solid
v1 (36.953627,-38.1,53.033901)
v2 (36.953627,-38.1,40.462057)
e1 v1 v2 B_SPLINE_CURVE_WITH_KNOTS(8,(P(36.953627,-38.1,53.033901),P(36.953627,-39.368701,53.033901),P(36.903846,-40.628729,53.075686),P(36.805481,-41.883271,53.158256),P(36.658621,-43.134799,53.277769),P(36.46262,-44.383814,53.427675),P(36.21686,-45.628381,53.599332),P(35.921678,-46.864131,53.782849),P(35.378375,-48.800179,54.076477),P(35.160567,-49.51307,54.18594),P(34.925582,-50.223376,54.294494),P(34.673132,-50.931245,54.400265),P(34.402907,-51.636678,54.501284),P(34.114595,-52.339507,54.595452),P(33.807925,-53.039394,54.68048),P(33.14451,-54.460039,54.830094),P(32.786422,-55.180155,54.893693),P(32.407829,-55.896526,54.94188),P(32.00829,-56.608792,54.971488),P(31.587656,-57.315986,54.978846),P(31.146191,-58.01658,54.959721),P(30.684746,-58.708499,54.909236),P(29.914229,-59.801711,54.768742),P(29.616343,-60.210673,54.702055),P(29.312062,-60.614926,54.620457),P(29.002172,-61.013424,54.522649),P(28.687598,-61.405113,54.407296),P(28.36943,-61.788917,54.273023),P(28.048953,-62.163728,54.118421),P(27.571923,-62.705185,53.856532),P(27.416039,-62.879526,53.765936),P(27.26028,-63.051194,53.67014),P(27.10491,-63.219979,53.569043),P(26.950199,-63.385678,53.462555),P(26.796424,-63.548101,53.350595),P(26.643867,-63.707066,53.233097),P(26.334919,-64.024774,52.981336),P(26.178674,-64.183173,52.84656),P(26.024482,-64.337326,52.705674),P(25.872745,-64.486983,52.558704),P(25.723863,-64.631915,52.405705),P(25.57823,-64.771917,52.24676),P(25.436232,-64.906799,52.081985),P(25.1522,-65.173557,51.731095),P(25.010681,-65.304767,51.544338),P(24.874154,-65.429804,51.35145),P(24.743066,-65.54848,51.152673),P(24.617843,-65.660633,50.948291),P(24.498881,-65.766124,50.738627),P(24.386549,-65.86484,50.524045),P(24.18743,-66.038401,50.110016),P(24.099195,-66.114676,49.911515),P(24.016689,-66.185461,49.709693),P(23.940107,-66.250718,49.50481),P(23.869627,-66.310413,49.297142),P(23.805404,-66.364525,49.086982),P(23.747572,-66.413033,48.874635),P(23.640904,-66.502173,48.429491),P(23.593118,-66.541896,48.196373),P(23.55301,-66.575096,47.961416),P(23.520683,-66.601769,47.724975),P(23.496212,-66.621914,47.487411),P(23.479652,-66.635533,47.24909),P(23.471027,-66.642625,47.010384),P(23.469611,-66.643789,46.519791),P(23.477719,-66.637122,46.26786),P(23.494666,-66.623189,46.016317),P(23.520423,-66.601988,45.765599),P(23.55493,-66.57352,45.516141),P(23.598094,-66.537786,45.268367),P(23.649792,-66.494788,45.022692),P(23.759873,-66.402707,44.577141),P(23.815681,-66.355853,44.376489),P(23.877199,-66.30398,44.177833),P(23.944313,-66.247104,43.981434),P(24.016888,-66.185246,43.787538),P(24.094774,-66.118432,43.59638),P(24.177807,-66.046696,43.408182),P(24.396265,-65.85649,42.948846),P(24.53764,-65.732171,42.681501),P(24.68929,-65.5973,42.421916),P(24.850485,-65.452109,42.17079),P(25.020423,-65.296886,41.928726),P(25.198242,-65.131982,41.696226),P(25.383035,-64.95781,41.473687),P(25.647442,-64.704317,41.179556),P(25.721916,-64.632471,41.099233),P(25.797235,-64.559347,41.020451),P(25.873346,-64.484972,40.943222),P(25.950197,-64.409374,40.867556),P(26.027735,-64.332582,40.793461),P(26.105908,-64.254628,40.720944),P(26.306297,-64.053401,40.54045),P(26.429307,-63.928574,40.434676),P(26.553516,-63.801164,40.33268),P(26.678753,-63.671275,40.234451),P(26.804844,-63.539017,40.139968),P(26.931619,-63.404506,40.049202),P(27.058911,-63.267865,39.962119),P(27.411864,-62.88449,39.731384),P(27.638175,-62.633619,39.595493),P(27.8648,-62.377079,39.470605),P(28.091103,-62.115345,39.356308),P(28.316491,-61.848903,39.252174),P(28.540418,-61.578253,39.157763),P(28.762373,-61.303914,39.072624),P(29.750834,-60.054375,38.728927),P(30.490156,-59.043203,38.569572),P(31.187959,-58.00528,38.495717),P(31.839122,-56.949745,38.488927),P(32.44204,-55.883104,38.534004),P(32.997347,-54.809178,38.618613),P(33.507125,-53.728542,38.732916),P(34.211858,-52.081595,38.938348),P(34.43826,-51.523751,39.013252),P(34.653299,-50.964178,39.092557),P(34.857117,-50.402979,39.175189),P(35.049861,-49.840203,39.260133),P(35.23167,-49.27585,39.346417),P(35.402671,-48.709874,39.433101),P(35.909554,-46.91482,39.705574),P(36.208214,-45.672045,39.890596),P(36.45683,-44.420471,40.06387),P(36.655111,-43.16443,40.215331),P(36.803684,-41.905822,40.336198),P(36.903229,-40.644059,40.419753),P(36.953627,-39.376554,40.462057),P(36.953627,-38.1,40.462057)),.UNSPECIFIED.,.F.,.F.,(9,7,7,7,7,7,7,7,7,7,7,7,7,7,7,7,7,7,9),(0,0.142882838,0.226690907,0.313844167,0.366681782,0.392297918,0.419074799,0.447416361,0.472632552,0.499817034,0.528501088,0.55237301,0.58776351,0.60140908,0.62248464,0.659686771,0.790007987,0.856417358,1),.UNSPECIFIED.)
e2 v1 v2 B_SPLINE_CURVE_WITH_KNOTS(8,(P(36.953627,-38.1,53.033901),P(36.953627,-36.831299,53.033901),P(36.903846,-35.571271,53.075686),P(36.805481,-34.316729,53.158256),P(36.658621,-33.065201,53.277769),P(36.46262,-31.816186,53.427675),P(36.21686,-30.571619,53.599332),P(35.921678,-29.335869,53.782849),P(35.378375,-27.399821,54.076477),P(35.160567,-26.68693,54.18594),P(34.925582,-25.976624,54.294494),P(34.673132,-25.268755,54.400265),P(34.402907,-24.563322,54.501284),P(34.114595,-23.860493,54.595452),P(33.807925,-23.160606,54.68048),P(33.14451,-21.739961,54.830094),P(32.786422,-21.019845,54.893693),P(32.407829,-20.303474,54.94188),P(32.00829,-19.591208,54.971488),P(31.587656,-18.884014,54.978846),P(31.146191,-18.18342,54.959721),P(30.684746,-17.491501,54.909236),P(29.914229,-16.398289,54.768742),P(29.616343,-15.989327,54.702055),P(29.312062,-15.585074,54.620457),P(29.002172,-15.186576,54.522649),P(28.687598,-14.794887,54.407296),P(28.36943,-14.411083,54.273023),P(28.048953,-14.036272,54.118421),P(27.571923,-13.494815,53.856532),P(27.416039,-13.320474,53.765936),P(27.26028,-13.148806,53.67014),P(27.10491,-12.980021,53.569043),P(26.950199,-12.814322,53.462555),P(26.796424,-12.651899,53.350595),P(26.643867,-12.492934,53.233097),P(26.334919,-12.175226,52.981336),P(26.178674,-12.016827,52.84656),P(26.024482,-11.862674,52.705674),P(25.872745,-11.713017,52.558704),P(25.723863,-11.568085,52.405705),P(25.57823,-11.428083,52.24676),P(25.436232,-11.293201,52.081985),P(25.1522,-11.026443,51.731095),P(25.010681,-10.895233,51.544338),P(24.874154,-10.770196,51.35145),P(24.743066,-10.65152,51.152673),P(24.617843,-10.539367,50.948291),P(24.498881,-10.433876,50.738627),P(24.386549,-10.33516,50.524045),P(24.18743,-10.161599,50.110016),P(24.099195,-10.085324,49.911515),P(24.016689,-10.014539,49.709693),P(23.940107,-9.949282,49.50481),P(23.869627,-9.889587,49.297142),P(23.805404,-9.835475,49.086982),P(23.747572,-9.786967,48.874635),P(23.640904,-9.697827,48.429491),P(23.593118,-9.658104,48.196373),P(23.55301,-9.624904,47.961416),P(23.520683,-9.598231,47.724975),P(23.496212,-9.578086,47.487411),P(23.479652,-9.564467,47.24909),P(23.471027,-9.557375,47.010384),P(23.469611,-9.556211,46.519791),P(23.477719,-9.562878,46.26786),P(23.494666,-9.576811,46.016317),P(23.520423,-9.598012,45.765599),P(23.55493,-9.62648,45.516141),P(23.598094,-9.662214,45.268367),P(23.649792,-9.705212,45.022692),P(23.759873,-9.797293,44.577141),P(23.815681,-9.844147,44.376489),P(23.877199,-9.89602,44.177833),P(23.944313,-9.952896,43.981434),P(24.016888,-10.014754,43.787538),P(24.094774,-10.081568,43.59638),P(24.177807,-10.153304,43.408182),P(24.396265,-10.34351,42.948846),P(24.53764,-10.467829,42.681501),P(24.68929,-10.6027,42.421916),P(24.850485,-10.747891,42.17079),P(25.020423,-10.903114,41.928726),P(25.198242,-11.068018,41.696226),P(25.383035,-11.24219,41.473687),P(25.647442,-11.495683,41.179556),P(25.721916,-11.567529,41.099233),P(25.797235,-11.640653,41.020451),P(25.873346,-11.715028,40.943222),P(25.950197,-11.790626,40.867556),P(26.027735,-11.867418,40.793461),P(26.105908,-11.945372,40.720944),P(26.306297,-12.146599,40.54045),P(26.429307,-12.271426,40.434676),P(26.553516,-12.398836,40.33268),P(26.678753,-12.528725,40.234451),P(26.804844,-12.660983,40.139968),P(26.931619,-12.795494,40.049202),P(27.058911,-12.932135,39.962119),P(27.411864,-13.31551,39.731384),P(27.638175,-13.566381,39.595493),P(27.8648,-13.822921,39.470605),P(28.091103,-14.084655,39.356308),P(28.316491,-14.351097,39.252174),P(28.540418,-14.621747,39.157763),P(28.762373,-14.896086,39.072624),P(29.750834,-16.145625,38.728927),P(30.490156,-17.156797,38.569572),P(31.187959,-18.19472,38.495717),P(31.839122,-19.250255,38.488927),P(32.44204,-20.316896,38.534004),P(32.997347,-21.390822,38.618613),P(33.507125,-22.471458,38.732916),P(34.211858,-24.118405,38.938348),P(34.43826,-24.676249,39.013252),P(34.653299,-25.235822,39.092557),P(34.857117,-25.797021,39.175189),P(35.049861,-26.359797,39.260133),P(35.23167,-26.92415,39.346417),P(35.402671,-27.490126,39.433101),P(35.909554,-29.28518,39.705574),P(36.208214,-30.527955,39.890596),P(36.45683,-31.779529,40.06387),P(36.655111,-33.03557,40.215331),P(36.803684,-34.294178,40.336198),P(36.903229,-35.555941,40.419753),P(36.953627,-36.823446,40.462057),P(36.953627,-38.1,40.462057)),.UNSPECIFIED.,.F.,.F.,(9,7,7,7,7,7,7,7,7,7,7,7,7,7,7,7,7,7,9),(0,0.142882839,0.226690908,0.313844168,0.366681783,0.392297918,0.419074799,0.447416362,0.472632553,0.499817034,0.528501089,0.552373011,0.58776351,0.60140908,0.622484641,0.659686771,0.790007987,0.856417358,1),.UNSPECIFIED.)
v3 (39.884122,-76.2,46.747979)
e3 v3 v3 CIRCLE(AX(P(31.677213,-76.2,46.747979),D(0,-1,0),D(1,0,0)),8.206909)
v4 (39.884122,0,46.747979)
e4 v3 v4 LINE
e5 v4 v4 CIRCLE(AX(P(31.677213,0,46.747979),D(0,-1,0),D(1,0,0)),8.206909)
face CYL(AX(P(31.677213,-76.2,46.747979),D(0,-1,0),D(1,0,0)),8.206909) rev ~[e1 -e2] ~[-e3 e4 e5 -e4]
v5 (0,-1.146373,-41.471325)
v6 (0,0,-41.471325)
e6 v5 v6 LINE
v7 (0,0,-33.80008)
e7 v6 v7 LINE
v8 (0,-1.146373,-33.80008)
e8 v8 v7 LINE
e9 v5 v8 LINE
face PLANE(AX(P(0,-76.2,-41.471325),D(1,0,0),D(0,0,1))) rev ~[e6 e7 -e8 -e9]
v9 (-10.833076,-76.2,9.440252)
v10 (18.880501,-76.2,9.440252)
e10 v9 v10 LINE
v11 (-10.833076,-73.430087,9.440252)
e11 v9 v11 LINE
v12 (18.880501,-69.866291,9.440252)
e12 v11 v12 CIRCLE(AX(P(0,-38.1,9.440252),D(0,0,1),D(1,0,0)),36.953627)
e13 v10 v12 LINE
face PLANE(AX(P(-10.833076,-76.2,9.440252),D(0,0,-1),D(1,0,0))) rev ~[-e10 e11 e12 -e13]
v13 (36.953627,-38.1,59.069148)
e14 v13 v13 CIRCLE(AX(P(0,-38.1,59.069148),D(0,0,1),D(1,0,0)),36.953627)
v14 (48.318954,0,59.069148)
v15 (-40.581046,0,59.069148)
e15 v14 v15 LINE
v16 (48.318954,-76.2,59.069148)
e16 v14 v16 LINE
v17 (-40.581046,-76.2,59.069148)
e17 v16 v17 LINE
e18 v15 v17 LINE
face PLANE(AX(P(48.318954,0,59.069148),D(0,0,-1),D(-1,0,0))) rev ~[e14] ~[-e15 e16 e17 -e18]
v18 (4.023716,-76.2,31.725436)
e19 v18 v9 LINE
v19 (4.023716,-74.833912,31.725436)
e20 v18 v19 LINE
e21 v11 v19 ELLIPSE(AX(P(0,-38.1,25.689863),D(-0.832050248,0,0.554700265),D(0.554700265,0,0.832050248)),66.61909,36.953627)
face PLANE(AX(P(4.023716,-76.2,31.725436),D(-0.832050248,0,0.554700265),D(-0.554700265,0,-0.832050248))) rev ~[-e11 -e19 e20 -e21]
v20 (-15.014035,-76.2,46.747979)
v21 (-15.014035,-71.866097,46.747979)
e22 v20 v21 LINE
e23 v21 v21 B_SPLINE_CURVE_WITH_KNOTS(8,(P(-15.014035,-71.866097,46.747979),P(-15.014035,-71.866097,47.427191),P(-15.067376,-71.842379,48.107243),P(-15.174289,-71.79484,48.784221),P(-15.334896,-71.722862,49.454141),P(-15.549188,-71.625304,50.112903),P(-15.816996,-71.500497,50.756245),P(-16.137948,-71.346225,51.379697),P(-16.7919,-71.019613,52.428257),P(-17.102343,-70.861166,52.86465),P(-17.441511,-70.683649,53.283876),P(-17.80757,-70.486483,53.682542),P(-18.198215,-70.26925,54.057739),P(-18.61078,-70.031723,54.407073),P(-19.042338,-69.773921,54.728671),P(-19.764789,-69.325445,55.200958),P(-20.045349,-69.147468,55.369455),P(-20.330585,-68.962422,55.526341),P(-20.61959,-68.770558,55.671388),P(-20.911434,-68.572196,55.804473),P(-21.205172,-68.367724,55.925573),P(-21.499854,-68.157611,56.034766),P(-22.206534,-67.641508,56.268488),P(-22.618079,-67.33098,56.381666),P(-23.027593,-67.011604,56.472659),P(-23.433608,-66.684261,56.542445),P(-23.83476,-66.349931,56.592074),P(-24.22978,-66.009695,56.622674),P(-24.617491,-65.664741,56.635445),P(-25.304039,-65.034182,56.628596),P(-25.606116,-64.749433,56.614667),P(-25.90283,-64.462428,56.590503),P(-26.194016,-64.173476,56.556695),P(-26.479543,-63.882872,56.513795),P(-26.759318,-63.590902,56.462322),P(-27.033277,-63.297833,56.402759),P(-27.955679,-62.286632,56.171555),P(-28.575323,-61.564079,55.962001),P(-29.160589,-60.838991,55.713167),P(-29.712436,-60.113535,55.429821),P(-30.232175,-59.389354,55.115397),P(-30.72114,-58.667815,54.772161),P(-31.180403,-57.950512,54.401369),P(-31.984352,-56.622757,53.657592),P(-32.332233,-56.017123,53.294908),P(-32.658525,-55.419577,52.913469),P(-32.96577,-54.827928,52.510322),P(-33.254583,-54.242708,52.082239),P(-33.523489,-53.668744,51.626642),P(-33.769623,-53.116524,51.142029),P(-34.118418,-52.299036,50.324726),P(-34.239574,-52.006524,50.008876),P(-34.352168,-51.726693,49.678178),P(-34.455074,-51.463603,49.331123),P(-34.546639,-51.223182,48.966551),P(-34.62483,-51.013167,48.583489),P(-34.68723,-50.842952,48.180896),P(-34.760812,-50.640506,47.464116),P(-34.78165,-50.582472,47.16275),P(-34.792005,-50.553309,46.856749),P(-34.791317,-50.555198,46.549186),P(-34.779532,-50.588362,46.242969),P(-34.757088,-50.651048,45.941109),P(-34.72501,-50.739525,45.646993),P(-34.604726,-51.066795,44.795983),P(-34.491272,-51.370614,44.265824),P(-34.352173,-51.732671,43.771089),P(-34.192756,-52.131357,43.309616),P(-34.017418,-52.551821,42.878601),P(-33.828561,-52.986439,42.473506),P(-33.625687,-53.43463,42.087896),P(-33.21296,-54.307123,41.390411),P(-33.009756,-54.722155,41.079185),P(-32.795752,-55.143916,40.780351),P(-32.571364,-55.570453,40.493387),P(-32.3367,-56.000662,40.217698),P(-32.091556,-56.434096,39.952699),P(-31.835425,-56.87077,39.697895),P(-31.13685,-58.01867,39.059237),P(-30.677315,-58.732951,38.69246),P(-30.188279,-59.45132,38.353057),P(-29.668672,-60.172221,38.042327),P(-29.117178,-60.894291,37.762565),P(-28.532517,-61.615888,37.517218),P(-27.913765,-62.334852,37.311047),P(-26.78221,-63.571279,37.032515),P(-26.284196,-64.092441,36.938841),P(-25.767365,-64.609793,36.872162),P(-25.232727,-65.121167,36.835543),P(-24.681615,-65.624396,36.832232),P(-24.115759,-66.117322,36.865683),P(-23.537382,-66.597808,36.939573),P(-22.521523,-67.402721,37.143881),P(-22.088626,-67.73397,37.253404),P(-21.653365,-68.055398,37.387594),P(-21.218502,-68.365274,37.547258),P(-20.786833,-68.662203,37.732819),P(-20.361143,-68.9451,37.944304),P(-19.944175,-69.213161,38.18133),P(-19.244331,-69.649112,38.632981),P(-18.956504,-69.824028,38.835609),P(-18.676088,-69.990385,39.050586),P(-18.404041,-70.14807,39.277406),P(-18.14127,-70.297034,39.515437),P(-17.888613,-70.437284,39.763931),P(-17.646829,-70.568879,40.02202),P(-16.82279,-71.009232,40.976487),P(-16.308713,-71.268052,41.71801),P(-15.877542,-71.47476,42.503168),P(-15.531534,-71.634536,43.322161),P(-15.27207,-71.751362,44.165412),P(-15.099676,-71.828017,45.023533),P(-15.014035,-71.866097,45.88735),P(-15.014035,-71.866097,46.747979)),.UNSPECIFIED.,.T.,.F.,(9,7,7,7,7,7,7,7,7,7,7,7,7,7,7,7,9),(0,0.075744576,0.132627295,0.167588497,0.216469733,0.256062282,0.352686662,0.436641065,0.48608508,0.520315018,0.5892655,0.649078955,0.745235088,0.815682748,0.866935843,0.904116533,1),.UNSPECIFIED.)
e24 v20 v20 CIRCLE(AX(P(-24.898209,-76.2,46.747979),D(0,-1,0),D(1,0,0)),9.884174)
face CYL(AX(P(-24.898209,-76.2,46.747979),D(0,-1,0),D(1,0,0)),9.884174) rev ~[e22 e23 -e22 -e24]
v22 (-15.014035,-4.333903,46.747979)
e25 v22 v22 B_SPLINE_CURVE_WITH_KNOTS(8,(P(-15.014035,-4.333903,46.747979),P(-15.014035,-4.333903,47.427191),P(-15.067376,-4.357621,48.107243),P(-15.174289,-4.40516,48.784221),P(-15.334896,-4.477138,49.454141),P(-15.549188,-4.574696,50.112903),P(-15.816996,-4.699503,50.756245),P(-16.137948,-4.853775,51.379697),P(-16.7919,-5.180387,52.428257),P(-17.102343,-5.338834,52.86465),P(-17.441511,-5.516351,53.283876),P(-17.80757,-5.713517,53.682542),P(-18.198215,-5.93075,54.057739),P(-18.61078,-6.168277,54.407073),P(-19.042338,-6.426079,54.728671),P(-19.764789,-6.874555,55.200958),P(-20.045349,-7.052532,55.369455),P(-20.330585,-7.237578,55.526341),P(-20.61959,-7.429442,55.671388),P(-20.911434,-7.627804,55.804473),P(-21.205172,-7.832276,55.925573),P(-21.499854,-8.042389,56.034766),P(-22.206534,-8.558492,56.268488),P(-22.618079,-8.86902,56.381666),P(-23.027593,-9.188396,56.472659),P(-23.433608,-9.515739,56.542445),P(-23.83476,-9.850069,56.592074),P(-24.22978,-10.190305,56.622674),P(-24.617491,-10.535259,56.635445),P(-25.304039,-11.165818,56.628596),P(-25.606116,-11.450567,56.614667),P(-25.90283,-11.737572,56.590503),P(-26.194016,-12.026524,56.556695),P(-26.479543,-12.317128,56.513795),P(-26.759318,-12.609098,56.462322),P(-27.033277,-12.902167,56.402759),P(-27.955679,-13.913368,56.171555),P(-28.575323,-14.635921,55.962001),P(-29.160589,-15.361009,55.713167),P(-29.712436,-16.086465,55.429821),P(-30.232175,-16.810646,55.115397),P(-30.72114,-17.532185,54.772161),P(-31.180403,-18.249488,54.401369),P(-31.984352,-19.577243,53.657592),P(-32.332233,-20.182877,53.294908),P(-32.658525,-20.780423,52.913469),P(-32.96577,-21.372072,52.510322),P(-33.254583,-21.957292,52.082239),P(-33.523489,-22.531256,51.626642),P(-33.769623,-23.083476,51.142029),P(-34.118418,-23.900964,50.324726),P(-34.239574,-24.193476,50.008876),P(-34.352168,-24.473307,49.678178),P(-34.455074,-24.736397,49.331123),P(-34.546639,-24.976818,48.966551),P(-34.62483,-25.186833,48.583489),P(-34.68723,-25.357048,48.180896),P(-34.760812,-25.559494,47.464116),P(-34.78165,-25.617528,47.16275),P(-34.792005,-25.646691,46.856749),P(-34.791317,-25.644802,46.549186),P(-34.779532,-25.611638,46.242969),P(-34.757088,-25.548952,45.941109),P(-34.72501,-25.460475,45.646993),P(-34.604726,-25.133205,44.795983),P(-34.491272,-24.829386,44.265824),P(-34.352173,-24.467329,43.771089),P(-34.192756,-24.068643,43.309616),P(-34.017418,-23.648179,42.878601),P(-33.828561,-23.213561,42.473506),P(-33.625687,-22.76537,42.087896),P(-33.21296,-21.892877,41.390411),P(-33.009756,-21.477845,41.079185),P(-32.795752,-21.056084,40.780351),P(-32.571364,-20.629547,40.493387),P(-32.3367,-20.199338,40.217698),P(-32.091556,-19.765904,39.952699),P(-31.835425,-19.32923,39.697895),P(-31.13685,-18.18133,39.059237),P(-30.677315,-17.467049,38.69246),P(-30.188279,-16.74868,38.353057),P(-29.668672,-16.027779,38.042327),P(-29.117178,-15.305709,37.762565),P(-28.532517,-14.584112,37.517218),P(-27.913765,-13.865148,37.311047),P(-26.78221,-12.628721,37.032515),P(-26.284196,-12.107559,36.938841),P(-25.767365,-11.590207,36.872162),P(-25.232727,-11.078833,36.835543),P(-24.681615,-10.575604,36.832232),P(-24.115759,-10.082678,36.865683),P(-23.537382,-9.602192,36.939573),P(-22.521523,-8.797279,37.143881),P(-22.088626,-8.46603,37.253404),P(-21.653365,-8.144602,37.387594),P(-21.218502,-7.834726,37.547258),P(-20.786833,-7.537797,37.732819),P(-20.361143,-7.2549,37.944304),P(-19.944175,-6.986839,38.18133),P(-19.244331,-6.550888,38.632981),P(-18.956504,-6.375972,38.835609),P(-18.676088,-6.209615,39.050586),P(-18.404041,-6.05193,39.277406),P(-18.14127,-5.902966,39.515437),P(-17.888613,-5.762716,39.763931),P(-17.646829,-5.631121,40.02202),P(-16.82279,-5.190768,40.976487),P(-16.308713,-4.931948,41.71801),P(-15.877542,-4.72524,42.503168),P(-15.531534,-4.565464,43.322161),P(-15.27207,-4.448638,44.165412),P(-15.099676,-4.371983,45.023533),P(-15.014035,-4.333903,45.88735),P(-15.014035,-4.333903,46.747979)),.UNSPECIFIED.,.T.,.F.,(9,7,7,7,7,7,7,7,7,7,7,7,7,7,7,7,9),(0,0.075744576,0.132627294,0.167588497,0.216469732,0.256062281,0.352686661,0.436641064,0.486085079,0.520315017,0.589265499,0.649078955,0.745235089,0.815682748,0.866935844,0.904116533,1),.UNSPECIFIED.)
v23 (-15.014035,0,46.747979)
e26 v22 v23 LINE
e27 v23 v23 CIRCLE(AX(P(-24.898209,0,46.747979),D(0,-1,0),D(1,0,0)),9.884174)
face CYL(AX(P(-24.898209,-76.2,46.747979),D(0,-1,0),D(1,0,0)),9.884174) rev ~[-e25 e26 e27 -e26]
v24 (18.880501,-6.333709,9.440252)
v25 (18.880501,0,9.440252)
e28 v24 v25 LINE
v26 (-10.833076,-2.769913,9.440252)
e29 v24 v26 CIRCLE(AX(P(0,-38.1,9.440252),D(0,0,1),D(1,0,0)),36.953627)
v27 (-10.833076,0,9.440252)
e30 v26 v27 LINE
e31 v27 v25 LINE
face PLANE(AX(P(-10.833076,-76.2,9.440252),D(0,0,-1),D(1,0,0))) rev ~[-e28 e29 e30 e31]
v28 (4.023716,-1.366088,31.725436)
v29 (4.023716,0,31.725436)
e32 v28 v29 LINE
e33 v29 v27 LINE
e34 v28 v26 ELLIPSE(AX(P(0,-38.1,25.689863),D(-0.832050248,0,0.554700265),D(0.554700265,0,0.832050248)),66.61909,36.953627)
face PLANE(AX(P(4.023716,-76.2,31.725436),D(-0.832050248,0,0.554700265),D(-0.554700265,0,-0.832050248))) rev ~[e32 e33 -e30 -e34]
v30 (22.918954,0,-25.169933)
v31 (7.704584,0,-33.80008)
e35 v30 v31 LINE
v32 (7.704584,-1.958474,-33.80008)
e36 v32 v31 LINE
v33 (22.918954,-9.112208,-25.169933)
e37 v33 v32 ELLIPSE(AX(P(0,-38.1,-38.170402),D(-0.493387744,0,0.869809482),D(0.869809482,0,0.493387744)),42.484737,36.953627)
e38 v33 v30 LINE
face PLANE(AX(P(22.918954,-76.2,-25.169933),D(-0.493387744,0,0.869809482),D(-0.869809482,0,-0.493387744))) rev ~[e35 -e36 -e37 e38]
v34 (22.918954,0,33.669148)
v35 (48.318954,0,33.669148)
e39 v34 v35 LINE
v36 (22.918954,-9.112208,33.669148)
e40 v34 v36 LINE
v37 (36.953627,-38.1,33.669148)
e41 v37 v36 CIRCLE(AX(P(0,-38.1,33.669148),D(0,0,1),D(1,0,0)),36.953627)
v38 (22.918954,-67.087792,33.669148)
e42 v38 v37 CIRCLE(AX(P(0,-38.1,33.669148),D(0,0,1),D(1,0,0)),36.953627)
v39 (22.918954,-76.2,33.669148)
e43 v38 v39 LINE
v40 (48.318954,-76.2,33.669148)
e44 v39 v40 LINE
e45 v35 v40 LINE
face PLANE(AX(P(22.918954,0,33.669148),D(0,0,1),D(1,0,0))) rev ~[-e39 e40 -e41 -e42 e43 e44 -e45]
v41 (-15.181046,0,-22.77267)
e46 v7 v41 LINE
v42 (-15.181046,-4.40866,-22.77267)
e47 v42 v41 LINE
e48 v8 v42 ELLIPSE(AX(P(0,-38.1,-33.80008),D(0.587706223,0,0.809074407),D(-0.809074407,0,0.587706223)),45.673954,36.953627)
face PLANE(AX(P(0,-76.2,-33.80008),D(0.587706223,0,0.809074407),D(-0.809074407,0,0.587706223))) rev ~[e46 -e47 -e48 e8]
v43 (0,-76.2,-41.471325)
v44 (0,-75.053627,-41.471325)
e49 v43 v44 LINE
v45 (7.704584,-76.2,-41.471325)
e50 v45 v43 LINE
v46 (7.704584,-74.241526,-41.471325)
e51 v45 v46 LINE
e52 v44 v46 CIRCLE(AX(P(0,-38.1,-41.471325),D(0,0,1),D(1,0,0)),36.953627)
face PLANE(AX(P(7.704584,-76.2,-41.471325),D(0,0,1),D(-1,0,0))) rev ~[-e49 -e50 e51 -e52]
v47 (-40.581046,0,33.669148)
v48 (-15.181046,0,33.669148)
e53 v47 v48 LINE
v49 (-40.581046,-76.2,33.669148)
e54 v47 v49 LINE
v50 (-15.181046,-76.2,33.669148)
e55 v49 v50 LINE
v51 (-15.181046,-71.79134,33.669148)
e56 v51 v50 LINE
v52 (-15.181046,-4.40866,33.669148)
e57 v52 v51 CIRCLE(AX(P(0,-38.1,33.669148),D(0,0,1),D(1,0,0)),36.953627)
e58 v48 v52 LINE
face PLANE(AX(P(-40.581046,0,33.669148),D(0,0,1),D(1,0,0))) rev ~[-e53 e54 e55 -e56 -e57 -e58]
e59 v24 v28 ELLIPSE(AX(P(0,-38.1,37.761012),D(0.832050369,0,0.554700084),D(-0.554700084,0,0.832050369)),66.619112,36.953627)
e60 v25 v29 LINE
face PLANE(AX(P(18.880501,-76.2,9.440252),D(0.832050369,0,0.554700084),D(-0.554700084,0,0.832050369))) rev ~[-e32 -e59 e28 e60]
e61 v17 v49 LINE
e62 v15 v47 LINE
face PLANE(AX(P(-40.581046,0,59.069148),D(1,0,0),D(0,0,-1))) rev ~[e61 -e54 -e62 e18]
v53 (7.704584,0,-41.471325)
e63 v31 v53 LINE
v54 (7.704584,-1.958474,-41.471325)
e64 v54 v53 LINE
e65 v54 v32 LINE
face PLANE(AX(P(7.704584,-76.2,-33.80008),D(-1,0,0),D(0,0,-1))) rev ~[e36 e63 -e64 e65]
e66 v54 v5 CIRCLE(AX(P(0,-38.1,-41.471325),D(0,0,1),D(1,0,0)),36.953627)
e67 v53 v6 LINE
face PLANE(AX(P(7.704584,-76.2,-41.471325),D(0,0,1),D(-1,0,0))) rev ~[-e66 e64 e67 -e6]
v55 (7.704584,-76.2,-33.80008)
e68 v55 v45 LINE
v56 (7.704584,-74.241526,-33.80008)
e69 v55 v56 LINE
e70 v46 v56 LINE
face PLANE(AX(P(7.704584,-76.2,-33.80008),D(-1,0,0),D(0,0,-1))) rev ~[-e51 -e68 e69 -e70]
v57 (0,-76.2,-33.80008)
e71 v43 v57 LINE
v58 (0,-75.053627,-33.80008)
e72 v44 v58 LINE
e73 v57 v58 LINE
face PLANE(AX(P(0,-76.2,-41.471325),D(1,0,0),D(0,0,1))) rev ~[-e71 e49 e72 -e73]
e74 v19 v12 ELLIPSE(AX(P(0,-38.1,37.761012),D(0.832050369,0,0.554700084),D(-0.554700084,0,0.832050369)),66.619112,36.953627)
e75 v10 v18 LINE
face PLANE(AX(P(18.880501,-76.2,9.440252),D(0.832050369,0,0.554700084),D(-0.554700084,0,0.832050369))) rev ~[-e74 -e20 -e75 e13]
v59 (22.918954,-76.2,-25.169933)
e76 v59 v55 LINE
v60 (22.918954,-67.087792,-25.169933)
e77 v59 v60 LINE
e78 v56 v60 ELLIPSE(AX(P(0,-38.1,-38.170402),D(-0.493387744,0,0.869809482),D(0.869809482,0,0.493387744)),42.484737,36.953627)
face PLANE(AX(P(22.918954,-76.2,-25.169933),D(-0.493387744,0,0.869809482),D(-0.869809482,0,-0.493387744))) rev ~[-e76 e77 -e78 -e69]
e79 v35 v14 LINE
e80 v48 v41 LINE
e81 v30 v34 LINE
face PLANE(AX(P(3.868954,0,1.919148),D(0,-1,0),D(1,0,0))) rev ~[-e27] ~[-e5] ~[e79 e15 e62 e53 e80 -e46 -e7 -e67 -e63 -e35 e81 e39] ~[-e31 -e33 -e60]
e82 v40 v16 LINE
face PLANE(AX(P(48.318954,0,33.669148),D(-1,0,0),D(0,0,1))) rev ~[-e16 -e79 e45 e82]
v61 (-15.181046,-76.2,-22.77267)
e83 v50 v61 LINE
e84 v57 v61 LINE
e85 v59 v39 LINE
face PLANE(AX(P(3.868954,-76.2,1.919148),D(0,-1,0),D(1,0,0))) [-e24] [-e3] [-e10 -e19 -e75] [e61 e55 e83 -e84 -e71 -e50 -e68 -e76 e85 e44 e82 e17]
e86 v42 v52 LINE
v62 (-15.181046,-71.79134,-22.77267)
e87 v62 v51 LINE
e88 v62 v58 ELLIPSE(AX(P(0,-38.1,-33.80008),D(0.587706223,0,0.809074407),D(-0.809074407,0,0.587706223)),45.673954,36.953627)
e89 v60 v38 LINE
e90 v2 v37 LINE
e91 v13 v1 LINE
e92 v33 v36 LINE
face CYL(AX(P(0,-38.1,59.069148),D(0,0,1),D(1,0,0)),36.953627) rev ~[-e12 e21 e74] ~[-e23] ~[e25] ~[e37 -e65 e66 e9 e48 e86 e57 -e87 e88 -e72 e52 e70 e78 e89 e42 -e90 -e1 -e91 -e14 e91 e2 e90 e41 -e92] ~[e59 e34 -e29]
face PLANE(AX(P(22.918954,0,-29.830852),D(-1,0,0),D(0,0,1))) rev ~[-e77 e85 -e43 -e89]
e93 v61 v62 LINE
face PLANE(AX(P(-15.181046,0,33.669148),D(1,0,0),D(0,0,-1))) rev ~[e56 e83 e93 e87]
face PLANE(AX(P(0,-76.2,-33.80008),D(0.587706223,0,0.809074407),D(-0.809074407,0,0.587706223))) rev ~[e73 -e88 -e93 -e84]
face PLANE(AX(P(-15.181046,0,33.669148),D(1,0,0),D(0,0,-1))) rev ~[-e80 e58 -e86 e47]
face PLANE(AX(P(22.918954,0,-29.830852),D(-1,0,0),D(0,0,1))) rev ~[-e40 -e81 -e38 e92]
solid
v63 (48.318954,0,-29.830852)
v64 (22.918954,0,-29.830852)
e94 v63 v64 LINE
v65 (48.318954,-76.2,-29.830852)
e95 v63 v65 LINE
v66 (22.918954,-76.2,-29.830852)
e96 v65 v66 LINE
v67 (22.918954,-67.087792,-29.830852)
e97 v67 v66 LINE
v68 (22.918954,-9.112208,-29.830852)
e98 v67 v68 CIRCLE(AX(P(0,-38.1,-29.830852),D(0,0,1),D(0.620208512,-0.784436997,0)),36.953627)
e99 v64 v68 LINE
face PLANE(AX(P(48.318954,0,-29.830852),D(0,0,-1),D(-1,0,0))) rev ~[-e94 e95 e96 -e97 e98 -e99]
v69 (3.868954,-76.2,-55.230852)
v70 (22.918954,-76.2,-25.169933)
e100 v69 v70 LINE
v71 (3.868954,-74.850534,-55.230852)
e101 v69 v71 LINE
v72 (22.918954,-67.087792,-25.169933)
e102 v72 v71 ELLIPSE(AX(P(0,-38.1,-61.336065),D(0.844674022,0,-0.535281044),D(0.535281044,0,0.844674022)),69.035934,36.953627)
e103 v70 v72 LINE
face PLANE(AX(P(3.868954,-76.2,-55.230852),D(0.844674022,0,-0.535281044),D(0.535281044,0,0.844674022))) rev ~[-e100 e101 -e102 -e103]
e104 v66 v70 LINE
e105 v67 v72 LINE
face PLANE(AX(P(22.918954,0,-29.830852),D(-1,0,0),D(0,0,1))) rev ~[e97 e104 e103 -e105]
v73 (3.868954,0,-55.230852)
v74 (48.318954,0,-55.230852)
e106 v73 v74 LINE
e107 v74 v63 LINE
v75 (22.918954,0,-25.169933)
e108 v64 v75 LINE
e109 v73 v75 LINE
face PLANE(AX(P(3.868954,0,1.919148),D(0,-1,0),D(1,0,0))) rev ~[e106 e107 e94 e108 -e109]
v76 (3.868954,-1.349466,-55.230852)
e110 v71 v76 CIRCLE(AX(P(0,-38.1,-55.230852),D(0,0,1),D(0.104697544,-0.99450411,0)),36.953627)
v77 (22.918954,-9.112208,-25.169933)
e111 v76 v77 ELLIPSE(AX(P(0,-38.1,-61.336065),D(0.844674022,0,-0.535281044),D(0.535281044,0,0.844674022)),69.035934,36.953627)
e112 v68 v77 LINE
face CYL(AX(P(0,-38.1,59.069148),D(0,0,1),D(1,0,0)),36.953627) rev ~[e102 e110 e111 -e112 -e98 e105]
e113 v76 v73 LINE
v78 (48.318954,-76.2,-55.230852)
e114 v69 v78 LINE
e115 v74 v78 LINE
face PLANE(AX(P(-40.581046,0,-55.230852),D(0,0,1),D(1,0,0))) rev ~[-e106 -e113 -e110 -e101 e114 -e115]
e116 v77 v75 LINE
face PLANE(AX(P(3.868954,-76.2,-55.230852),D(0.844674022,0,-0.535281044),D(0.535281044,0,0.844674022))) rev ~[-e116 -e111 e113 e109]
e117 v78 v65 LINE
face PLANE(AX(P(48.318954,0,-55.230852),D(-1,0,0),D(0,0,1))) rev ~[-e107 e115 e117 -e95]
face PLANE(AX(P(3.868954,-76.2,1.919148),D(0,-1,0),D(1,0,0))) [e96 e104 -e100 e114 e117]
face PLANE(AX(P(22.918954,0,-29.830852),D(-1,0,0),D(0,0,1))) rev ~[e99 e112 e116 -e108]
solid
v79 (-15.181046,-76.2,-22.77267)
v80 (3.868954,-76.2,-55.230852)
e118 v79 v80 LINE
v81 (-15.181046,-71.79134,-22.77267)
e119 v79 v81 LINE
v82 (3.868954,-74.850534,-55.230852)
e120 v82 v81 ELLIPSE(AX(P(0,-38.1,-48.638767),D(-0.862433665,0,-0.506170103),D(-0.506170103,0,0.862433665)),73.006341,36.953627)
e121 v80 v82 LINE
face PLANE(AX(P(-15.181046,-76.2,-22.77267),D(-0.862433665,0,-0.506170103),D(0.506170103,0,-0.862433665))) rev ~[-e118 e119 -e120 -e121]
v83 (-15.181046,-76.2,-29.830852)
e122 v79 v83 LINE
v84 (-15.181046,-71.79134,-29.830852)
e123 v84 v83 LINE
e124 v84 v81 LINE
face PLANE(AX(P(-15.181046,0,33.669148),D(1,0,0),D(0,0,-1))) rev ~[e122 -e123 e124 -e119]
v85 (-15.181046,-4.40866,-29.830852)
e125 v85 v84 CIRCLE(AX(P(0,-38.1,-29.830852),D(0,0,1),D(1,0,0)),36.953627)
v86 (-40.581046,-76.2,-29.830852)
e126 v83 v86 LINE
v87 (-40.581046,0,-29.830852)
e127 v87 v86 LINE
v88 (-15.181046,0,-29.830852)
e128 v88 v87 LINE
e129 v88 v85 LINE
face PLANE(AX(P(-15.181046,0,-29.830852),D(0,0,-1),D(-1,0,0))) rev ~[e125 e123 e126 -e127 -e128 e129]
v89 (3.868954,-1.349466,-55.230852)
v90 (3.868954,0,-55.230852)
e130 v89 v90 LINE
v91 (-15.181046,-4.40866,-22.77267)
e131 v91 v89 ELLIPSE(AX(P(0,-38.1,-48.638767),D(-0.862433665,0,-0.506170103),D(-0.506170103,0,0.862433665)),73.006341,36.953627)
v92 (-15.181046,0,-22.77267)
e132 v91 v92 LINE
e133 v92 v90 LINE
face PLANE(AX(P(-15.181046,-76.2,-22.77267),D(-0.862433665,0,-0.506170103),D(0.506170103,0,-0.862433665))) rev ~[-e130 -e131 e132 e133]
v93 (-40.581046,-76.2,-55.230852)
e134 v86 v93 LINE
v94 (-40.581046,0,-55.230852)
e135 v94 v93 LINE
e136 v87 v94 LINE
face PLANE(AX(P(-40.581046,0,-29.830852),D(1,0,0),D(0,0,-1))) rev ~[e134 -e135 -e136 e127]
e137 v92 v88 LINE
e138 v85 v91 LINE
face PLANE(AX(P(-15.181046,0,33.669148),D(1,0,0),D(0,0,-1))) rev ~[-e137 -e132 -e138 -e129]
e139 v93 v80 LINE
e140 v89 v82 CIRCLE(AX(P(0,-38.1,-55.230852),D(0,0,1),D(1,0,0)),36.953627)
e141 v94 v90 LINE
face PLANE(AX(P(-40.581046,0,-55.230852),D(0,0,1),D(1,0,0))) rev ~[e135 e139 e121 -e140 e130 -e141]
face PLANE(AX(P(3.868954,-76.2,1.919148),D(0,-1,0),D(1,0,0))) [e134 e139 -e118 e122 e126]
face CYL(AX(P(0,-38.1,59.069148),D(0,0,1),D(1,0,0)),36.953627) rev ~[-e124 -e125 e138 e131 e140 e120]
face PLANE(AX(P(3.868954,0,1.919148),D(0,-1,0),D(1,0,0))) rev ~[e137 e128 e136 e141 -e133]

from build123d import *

# Parameters (mm, degrees)
F1_DEPTH  = 76.2
F2_R      = 23.902381
F3_DEPTH  = 63.501
F5_DEPTH  = 76.201
F6_R      = 36.953627
F7_DEPTH  = 114.301
F8_R      = 9.884174
F8_R_2    = 8.206909
F9_DEPTH  = 76.201
F11_DEPTH = 76.201


with BuildPart() as f1:
    # F0 (on Front) → F1 (new body)
    with BuildSketch(Plane.XZ):
        Polygon((-40.581046, -29.830852), (-40.581046, -55.230852), (48.318954, -55.230852), (48.318954, -29.830852), (22.918954, -29.830852), (22.918954, 33.669148), (48.318954, 33.669148), (48.318954, 59.069148), (-40.581046, 59.069148), (-40.581046, 33.669148), (-15.181046, 33.669148), (-15.181046, -29.830852), align=None)
    extrude(amount=F1_DEPTH)

    # F2 (on face) → F3 (cut, through all)
    with BuildSketch(Plane.YZ.offset(22.918954)):
        with Locations((-38.1, 0)):
            Circle(F2_R)
    extrude(amount=-F3_DEPTH, mode=Mode.SUBTRACT)

    # F4 (on face) → F5 (cut, through all)
    with BuildSketch(Plane.XZ.offset(76.2)):
        Polygon((4.023716, 31.725436), (-10.833076, 9.440252), (18.880501, 9.440252), align=None)
    extrude(amount=-F5_DEPTH, mode=Mode.SUBTRACT)

    # F6 (on face) → F7 (cut, through all)
    with BuildSketch(Plane.XY.offset(59.069148)):
        with Locations((0, -38.1)):
            Circle(F6_R)
    extrude(amount=-F7_DEPTH, mode=Mode.SUBTRACT)

    # F8 (on face) → F9 (cut, through all)
    with BuildSketch(Plane.XZ.offset(76.2)):
        with Locations((-24.898209, 46.747979)):
            Circle(F8_R)
        with Locations((31.677213, 46.747979)):
            Circle(F8_R_2)
    extrude(amount=-F9_DEPTH, mode=Mode.SUBTRACT)

    # F10 (on face) → F11 (cut, through all)
    with BuildSketch(Plane.XZ.offset(76.2)):
        Polygon((0, -33.80008), (-15.181046, -22.77267), (3.868954, -55.230852), (22.918954, -25.169933), (7.704584, -33.80008), (7.704584, -41.471325), (0, -41.471325), align=None)
    extrude(amount=-F11_DEPTH, mode=Mode.SUBTRACT)


solid = f1.part
